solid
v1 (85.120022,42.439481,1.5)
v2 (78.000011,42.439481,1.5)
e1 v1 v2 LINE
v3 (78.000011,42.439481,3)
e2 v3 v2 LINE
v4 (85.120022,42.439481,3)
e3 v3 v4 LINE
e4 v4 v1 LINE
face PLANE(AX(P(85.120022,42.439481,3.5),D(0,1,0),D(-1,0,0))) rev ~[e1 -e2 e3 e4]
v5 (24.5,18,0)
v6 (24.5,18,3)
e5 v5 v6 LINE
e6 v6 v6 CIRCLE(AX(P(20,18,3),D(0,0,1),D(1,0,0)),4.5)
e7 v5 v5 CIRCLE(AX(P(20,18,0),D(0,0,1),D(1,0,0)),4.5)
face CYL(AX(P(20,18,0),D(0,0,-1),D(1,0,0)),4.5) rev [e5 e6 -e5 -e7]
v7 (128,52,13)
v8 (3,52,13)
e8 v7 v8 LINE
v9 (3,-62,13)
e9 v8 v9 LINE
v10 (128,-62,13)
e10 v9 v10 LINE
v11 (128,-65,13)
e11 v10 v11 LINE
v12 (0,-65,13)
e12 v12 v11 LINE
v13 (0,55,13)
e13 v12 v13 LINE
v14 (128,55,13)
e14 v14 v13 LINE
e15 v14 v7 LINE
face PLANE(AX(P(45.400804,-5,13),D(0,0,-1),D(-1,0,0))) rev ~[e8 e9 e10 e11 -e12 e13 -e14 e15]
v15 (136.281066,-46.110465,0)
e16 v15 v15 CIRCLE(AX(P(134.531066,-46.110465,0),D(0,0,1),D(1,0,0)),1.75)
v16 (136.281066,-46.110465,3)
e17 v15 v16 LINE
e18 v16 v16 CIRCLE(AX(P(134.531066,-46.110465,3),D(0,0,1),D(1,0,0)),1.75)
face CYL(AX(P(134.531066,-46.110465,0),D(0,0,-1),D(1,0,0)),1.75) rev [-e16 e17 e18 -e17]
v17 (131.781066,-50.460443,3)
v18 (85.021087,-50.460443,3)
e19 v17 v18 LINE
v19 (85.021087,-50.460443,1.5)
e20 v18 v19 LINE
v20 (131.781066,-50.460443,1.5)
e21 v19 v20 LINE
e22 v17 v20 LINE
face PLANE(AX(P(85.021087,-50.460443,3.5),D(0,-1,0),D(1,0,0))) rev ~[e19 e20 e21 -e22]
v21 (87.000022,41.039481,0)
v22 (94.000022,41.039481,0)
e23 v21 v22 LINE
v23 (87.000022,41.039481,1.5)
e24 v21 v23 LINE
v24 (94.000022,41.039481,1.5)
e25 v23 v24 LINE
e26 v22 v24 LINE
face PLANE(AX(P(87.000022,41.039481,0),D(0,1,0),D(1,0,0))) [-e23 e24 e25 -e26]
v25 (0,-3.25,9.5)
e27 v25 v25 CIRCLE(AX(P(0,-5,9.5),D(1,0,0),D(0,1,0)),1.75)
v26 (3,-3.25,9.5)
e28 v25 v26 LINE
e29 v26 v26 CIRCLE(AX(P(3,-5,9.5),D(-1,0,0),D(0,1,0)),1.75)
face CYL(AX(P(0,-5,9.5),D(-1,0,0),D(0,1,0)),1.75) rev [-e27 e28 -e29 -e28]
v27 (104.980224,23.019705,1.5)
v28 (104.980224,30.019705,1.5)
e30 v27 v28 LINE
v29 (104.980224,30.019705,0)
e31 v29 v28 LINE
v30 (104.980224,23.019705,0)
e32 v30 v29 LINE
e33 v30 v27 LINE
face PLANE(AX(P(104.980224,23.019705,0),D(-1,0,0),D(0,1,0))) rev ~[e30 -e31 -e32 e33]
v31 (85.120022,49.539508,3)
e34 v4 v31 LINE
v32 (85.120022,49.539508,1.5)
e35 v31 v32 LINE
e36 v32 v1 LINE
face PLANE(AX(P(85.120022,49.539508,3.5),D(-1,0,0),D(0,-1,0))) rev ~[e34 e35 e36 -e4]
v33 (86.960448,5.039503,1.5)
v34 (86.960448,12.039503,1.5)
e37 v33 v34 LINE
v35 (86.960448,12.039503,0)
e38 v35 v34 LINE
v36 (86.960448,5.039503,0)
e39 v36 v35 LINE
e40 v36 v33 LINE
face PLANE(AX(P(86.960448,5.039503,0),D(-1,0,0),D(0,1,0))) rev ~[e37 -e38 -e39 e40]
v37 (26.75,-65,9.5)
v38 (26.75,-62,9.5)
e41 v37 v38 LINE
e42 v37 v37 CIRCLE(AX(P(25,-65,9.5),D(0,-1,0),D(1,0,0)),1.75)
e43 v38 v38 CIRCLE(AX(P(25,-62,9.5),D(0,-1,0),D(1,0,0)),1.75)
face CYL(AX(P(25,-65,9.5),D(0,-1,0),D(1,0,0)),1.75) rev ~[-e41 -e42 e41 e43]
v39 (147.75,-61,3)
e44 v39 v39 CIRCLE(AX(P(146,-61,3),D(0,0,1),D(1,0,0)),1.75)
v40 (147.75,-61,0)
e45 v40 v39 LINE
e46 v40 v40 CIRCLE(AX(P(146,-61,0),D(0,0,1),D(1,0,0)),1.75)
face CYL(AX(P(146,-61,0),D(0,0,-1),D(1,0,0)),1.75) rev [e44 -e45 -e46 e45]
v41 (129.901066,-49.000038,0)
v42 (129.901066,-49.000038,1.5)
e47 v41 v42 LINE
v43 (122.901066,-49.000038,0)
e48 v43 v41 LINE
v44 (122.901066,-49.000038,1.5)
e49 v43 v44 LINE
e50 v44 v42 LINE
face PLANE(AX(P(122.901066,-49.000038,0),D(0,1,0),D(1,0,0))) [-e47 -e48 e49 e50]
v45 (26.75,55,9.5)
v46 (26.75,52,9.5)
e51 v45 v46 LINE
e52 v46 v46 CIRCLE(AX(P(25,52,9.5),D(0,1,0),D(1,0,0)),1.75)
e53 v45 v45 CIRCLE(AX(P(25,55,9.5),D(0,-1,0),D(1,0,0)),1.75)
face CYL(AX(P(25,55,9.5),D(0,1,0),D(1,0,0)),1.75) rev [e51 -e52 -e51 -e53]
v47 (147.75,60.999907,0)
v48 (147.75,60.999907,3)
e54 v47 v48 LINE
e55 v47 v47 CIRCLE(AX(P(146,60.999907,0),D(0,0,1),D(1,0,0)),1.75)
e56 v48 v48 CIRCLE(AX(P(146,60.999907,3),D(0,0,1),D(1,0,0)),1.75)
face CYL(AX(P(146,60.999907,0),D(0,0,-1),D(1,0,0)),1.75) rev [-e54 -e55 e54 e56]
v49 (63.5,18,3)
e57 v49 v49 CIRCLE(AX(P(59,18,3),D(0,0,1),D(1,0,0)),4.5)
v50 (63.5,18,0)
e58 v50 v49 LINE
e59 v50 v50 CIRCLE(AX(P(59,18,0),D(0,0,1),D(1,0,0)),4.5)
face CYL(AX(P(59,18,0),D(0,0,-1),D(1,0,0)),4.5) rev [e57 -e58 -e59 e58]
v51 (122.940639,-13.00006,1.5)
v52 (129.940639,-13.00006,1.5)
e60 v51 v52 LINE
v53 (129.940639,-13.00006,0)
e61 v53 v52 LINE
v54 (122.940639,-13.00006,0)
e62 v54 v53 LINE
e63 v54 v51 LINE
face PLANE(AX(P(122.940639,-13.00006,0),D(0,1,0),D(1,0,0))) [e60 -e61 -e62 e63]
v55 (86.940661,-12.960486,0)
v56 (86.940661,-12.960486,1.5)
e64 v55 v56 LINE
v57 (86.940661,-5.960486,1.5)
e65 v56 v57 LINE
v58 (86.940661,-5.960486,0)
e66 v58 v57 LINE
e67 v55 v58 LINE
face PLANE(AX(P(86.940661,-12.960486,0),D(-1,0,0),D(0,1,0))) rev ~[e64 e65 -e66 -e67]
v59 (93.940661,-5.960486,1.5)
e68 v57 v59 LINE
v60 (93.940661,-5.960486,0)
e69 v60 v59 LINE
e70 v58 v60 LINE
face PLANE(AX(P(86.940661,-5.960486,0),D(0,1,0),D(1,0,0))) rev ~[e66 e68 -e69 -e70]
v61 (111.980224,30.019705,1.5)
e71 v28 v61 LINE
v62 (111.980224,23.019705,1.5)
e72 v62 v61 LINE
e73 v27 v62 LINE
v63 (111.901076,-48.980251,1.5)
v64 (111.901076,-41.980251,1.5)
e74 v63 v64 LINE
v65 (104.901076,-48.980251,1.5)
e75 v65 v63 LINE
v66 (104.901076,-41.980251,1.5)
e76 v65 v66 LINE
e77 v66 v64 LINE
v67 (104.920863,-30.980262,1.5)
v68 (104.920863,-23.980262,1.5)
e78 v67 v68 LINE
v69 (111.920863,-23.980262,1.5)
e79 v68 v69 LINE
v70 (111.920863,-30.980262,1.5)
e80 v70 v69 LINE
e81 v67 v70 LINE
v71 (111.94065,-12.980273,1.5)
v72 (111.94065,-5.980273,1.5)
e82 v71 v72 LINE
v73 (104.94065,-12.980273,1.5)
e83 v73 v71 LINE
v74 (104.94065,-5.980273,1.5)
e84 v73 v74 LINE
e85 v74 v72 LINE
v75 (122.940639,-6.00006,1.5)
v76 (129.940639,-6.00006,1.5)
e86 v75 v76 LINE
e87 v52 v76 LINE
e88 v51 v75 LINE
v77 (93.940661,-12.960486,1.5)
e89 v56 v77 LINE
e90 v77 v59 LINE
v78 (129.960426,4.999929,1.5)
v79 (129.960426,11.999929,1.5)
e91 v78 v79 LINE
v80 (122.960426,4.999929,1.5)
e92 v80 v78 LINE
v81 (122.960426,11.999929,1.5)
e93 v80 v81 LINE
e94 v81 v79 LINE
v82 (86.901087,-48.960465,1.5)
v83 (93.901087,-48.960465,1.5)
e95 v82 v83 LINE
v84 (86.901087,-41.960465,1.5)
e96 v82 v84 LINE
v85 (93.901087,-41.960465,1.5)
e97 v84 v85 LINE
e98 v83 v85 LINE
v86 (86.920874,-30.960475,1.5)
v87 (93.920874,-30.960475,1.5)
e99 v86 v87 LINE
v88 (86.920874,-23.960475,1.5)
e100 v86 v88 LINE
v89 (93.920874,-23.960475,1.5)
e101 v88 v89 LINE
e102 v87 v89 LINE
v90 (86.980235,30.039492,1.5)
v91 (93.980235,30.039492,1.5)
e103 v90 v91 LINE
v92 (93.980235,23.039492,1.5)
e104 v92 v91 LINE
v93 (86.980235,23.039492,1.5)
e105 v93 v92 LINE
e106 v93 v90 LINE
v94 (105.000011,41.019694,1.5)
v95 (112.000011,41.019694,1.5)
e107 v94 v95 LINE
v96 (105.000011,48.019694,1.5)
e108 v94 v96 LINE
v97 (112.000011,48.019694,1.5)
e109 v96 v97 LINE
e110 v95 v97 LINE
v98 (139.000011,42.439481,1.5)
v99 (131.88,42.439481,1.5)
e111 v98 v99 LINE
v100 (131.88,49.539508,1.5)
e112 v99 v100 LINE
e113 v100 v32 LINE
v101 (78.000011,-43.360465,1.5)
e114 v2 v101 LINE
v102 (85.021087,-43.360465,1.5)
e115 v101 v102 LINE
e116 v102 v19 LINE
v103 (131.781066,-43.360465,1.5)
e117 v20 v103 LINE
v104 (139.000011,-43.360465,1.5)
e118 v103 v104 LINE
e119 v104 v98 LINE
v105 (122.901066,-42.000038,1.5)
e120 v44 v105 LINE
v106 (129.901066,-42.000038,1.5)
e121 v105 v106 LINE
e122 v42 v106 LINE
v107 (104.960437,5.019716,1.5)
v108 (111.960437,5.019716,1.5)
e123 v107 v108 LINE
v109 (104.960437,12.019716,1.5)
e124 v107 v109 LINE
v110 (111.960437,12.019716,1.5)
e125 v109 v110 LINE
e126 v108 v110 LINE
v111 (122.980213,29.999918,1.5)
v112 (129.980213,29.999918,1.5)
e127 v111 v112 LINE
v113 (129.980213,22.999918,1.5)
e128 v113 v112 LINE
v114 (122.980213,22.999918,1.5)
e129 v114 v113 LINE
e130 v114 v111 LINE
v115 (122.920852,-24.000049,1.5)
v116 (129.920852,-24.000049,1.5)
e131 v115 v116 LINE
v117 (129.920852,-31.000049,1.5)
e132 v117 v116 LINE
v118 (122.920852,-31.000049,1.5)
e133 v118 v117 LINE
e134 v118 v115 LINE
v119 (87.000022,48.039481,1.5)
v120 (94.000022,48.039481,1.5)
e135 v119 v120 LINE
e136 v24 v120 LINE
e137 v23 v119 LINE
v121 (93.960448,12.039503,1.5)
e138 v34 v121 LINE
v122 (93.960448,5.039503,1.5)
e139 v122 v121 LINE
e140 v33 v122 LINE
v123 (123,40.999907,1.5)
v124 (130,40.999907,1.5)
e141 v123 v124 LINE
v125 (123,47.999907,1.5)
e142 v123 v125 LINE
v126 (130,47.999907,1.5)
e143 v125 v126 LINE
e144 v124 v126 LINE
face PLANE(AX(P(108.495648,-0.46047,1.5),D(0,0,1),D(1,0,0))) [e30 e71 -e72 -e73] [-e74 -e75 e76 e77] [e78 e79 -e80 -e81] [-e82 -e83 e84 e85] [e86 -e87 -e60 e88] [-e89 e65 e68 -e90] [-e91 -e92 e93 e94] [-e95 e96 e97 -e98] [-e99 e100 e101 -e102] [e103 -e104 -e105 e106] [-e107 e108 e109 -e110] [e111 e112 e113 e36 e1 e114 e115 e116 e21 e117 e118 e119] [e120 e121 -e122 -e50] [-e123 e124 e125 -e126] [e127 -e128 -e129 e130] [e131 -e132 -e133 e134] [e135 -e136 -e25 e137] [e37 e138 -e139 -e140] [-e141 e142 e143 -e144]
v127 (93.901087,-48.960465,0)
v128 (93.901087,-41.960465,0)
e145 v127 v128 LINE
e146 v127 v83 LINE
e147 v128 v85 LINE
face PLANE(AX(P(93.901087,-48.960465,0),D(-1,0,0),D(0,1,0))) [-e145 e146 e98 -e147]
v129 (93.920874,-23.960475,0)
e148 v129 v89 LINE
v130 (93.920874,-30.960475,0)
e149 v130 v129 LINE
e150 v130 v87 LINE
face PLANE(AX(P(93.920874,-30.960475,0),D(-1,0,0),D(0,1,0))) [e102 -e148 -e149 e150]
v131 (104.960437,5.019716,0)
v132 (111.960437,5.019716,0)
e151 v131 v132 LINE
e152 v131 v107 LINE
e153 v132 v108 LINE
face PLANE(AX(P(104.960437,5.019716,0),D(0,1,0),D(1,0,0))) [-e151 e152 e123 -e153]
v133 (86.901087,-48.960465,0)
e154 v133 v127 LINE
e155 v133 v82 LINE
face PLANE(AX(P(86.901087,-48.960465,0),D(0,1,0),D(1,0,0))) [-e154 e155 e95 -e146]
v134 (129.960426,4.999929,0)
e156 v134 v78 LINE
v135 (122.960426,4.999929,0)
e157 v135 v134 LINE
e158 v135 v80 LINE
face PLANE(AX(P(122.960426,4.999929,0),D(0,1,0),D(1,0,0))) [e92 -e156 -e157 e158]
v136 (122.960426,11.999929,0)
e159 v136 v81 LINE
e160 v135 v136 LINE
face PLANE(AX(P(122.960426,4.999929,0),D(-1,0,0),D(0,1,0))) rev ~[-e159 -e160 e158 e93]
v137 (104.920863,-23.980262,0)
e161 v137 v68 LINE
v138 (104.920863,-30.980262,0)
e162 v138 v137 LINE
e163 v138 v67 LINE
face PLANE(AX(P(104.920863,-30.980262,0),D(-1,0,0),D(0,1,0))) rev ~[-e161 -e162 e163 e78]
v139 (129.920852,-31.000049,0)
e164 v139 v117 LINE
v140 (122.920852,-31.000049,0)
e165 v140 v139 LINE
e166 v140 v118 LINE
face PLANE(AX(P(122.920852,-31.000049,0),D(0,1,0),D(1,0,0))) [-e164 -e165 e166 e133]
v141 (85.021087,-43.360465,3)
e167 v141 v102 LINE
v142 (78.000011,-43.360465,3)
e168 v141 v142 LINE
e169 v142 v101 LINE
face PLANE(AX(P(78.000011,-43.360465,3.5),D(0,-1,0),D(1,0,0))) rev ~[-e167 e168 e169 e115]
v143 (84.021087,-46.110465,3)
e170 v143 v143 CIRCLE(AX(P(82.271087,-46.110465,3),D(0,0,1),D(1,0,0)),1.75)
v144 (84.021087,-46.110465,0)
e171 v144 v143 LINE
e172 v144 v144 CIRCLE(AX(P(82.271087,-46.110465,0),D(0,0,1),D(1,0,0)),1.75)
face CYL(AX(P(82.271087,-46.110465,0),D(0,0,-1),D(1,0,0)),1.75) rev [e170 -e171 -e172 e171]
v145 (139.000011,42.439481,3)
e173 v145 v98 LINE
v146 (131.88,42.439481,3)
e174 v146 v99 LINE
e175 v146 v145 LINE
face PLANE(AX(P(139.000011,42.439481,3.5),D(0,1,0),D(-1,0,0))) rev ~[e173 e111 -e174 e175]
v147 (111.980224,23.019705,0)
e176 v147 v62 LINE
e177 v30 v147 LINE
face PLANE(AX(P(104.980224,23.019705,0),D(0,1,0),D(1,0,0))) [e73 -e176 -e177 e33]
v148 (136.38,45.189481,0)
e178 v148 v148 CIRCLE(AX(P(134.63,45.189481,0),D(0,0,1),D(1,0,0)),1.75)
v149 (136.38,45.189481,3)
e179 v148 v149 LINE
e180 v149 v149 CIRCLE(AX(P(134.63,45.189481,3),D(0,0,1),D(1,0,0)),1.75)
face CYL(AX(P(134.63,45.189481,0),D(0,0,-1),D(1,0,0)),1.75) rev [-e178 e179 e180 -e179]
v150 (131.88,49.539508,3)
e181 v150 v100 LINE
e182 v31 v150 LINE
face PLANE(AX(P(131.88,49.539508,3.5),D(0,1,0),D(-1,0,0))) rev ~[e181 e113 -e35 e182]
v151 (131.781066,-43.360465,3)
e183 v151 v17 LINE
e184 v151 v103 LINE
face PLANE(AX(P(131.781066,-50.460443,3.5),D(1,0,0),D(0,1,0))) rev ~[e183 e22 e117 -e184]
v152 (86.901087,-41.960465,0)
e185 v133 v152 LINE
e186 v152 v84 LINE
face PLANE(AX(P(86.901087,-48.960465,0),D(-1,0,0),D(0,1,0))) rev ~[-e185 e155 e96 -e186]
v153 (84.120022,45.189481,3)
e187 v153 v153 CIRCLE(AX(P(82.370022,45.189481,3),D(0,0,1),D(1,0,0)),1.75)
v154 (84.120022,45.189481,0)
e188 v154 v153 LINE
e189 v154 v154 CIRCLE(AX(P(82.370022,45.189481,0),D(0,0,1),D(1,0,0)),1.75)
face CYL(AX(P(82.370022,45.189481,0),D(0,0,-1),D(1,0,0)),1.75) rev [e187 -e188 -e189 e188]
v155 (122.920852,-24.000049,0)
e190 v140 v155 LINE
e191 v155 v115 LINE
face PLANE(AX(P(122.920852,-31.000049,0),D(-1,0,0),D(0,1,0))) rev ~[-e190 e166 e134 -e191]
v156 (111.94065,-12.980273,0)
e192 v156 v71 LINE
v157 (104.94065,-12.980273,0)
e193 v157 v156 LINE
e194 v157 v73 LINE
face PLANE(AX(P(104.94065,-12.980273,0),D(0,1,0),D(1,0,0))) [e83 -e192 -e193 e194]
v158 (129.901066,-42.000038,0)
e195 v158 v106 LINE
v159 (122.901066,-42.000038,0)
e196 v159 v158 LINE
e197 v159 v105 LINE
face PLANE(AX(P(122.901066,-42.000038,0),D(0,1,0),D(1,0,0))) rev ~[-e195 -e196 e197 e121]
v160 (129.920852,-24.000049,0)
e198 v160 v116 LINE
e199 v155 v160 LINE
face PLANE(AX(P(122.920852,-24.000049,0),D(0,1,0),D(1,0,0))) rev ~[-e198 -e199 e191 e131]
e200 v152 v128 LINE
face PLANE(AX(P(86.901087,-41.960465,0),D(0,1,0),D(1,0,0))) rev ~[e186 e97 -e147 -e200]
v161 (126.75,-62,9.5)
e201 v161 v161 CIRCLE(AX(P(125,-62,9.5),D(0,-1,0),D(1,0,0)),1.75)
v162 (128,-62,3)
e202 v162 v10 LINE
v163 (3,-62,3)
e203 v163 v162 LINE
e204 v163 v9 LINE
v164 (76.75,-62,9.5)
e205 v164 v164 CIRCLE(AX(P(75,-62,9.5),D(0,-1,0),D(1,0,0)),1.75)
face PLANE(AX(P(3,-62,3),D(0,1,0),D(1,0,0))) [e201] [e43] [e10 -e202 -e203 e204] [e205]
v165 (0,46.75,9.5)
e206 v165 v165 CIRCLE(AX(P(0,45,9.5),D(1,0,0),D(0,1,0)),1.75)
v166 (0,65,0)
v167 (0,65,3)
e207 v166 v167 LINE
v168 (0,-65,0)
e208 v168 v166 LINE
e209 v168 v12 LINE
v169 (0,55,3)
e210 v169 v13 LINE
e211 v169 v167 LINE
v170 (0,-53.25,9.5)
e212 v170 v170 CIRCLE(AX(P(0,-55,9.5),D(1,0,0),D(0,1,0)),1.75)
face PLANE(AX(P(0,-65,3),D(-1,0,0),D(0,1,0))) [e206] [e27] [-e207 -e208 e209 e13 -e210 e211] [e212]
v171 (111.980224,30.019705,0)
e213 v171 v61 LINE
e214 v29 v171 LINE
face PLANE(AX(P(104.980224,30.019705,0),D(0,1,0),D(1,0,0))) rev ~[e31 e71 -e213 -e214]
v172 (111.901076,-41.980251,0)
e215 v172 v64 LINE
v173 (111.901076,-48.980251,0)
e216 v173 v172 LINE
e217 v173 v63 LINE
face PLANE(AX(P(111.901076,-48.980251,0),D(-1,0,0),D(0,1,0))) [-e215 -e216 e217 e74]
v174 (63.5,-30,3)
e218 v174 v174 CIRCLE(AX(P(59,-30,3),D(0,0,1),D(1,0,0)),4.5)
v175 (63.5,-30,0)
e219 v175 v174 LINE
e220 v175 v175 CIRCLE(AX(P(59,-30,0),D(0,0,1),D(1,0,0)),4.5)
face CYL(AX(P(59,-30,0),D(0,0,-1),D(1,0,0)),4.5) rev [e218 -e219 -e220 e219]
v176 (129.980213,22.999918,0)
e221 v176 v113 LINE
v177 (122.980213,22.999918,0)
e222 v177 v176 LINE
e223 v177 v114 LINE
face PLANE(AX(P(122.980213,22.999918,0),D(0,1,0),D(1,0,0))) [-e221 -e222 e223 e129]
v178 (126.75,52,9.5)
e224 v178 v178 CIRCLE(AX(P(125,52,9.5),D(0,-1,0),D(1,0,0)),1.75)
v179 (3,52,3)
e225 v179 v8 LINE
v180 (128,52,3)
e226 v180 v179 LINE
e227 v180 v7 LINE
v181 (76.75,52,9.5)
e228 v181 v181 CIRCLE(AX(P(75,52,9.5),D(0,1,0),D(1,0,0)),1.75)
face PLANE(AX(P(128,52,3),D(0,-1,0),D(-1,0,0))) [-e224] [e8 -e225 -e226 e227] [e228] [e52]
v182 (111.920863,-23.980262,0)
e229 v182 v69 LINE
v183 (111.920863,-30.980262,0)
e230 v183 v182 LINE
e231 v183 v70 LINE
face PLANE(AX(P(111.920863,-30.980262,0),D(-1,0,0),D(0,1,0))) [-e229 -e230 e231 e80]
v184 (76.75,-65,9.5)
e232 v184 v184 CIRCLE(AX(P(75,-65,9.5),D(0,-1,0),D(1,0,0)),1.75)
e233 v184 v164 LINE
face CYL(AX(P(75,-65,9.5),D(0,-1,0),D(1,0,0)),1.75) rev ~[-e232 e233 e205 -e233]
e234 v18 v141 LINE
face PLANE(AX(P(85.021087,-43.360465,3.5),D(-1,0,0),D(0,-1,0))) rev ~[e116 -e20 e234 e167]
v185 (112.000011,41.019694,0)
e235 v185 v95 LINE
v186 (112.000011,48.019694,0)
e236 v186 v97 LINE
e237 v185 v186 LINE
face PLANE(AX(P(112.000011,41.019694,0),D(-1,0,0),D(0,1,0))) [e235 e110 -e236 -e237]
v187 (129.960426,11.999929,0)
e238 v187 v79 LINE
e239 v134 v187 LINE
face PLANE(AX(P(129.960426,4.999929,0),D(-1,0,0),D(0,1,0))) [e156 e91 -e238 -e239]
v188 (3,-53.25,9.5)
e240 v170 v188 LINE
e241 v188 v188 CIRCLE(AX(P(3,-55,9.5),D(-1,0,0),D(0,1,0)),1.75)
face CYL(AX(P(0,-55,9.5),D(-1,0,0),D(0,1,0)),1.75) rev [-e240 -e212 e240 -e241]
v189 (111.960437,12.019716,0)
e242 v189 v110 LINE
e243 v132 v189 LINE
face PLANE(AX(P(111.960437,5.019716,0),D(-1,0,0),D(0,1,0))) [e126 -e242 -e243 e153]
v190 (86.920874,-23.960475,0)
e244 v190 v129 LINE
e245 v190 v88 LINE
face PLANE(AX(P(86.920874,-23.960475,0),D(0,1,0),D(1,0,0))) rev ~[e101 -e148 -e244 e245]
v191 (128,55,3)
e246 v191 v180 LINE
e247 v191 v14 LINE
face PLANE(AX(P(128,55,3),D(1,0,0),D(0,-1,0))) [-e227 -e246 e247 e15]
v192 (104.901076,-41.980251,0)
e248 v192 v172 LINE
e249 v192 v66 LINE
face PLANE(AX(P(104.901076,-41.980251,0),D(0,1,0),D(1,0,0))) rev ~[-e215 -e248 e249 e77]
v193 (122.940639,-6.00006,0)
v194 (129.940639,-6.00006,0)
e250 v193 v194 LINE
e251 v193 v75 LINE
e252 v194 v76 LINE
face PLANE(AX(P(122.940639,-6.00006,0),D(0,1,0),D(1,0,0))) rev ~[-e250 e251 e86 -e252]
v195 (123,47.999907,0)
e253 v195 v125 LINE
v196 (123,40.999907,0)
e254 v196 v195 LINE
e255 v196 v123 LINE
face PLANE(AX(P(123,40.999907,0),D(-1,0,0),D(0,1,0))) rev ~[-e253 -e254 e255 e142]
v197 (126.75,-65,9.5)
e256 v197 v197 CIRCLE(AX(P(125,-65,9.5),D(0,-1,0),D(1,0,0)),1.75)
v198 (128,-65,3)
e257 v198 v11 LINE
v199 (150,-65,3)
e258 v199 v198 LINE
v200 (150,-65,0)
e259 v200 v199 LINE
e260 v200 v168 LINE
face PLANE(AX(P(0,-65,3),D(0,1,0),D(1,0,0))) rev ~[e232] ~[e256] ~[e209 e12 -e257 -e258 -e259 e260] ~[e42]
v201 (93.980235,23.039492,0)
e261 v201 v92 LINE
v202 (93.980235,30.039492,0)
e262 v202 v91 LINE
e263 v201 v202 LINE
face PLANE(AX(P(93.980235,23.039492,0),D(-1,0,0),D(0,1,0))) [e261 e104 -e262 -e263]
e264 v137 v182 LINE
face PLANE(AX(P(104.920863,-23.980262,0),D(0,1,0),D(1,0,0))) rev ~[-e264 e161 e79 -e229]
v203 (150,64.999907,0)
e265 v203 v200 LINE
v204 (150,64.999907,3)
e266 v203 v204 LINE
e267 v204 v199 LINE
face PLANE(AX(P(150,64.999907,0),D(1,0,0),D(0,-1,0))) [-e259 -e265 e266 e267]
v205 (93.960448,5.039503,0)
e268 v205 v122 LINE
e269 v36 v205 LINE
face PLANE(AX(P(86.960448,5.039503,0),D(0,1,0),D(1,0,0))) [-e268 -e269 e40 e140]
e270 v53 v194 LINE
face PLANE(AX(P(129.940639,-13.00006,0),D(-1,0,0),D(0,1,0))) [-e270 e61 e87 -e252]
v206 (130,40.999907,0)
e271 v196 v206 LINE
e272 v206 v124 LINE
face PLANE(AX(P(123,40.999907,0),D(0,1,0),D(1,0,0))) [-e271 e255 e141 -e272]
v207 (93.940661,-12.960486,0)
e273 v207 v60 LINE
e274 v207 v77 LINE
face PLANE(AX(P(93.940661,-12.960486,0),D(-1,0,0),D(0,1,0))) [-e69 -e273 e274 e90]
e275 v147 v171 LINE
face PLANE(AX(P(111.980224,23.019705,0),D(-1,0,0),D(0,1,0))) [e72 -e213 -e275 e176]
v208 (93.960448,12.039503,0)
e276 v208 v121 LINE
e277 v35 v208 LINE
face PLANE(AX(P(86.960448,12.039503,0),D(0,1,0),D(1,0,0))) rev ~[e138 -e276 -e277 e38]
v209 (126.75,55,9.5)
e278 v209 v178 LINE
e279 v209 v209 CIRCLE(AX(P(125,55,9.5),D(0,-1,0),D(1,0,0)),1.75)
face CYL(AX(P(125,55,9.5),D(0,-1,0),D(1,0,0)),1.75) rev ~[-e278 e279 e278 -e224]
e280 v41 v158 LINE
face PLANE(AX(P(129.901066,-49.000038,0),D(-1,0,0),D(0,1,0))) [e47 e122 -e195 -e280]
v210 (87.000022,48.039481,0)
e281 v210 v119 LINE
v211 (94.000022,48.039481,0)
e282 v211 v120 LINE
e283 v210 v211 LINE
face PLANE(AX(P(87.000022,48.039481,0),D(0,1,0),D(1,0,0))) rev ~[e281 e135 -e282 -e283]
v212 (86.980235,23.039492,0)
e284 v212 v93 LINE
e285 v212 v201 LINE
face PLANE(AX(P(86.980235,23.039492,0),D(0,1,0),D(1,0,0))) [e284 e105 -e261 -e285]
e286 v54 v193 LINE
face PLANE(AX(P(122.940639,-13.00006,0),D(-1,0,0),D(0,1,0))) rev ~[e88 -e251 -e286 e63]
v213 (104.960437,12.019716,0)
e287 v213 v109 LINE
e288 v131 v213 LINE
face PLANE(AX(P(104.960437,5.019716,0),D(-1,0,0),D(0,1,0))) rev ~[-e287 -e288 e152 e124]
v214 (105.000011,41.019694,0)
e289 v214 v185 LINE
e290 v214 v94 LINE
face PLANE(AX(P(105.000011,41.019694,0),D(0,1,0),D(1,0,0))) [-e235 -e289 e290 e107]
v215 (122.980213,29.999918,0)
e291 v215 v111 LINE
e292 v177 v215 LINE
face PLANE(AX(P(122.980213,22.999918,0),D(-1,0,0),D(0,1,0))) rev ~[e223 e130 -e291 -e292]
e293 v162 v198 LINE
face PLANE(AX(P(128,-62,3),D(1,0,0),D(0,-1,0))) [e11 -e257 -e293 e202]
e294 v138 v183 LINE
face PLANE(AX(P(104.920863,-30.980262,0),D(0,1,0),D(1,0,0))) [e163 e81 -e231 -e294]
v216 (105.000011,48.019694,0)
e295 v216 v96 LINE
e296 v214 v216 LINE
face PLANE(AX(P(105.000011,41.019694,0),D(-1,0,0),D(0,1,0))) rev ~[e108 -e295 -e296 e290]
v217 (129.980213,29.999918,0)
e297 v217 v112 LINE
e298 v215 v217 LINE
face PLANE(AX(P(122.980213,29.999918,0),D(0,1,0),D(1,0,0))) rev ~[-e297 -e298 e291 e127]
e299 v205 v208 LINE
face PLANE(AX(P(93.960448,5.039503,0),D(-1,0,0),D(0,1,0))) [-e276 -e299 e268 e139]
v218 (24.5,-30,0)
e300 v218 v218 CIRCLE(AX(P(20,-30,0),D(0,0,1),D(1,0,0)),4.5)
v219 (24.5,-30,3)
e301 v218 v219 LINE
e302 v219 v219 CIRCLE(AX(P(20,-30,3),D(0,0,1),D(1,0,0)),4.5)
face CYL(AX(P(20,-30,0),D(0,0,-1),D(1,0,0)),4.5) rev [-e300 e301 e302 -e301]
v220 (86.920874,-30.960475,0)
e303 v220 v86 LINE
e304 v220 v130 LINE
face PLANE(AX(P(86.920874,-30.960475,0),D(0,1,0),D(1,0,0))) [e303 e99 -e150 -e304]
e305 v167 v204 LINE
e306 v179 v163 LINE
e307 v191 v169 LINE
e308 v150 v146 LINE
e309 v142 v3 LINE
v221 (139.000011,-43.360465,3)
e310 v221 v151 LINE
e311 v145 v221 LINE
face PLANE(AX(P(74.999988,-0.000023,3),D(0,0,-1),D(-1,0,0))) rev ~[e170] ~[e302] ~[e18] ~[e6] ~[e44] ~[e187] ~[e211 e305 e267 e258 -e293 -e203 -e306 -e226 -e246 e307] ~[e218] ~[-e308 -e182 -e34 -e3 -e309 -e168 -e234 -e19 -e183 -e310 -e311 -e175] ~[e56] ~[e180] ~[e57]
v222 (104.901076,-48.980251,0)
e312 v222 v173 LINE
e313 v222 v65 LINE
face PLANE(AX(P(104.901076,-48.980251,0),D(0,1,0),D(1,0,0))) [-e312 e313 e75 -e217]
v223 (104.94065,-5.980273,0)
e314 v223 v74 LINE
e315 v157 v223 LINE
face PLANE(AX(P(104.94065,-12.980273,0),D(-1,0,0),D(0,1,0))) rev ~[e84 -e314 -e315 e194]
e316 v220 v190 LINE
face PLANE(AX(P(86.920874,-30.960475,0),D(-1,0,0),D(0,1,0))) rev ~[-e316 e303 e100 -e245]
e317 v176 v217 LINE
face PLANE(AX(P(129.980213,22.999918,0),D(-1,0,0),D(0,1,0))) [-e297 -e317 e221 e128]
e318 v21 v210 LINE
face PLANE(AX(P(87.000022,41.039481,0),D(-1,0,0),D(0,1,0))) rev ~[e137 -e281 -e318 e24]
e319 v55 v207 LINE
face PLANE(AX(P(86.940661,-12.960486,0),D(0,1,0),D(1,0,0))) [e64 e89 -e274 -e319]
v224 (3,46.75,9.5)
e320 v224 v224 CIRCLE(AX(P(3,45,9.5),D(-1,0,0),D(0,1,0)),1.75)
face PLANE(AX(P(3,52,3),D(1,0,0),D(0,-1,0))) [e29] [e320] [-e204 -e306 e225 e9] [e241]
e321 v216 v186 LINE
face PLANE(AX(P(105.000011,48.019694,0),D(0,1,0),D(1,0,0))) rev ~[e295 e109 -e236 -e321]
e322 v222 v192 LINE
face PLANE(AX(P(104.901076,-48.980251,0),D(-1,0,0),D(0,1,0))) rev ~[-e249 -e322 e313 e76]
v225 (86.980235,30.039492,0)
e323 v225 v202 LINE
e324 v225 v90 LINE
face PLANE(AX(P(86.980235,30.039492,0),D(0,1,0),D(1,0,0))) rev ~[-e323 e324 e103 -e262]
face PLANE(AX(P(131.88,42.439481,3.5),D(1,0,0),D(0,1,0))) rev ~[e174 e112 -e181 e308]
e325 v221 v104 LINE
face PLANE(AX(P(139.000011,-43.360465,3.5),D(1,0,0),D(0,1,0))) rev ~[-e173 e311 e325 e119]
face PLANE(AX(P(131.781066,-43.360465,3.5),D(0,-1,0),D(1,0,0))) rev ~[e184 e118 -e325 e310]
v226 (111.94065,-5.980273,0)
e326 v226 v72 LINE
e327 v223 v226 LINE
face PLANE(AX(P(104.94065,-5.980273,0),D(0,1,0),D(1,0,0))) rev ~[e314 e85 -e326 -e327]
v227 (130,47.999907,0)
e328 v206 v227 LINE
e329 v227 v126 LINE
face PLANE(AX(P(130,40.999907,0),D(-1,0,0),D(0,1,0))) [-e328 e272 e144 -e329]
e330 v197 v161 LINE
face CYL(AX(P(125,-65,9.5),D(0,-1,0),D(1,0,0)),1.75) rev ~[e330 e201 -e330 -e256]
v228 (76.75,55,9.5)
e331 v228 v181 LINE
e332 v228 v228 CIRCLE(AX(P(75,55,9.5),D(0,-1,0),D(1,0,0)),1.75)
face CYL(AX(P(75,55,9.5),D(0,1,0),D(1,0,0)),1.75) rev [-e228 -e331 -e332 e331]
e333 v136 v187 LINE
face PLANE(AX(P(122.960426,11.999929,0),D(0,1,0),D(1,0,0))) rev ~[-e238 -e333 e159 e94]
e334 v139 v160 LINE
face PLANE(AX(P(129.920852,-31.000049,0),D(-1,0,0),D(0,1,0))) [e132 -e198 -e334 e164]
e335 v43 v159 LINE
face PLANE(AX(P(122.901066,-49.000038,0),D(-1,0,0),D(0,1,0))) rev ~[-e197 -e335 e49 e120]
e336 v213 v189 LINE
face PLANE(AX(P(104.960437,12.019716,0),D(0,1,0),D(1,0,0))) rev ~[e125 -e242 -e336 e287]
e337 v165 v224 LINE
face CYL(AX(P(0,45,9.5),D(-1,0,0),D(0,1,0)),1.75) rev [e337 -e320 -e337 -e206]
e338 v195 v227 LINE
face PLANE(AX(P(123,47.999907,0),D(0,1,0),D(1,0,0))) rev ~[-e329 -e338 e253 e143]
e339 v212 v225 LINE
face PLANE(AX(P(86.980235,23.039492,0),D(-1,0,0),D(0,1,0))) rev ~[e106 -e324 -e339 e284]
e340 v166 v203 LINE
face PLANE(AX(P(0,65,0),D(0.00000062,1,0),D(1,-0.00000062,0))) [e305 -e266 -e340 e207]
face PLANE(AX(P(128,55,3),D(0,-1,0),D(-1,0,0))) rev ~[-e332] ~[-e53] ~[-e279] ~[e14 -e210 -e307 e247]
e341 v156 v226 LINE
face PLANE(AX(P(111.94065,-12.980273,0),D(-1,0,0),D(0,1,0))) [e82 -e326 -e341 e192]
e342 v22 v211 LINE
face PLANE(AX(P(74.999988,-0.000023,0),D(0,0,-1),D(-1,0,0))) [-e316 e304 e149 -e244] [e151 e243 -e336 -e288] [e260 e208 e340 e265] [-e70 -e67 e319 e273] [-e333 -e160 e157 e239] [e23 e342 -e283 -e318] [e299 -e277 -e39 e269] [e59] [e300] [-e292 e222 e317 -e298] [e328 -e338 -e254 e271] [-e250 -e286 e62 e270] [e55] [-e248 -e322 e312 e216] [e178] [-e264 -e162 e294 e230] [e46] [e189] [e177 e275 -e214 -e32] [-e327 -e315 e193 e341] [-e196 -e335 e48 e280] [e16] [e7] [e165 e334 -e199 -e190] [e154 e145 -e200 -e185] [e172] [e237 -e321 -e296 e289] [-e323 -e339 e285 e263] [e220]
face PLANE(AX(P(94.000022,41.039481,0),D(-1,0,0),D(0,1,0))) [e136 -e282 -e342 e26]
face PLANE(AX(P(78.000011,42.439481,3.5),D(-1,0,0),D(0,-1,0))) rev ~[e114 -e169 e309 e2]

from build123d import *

# Parameters (mm, degrees)
SKETCH013_R     = 4.5
SKETCH013_R_2   = 1.75
SKETCH013_W     = 7
SKETCH013_H     = 7
PAD004_DEPTH    = 3
PAD_DEPTH       = 10
SKETCH015_R     = 1.75
POCKET005_DEPTH = 5
SKETCH004_R     = 1.75
POCKET006_DEPTH = 5
SKETCH014_R     = 1.75
POCKET007_DEPTH = 5
POCKET_DEPTH    = 2


with BuildPart() as part:
    # Sketch013 → Pad004 (new body)
    with BuildSketch(Plane.XY):
        Polygon((0, 65), (150, 64.999907), (150, -65), (0, -65), align=None)
        with Locations((20, 18)):
            Circle(SKETCH013_R, mode=Mode.SUBTRACT)
        with Locations((59, 18)):
            Circle(SKETCH013_R, mode=Mode.SUBTRACT)
        with Locations((20, -30)):
            Circle(SKETCH013_R, mode=Mode.SUBTRACT)
        with Locations((59, -30)):
            Circle(SKETCH013_R, mode=Mode.SUBTRACT)
        with Locations((146, 60.999907)):
            Circle(SKETCH013_R_2, mode=Mode.SUBTRACT)
        with Locations((146, -61)):
            Circle(SKETCH013_R_2, mode=Mode.SUBTRACT)
        with Locations((82.370022, 45.189481)):
            Circle(SKETCH013_R_2, mode=Mode.SUBTRACT)
        with Locations((134.63, 45.189481)):
            Circle(SKETCH013_R_2, mode=Mode.SUBTRACT)
        with Locations((82.271087, -46.110465)):
            Circle(SKETCH013_R_2, mode=Mode.SUBTRACT)
        with Locations((134.531066, -46.110465)):
            Circle(SKETCH013_R_2, mode=Mode.SUBTRACT)
        with Locations((90.500022, 44.539481)):
            Rectangle(SKETCH013_W, SKETCH013_H, mode=Mode.SUBTRACT)
        with Locations((108.500011, 44.519694)):
            Rectangle(SKETCH013_W, SKETCH013_H, mode=Mode.SUBTRACT)
        with Locations((126.5, 44.499907)):
            Rectangle(SKETCH013_W, SKETCH013_H, mode=Mode.SUBTRACT)
        with Locations((90.480235, 26.539492)):
            Rectangle(SKETCH013_W, SKETCH013_H, mode=Mode.SUBTRACT)
        with Locations((108.480224, 26.519705)):
            Rectangle(SKETCH013_W, SKETCH013_H, mode=Mode.SUBTRACT)
        with Locations((126.480213, 26.499918)):
            Rectangle(SKETCH013_W, SKETCH013_H, mode=Mode.SUBTRACT)
        with Locations((90.460448, 8.539503)):
            Rectangle(SKETCH013_W, SKETCH013_H, mode=Mode.SUBTRACT)
        with Locations((108.460437, 8.519716)):
            Rectangle(SKETCH013_W, SKETCH013_H, mode=Mode.SUBTRACT)
        with Locations((126.460426, 8.499929)):
            Rectangle(SKETCH013_W, SKETCH013_H, mode=Mode.SUBTRACT)
        with Locations((90.440661, -9.460486)):
            Rectangle(SKETCH013_W, SKETCH013_H, mode=Mode.SUBTRACT)
        with Locations((108.44065, -9.480273)):
            Rectangle(SKETCH013_W, SKETCH013_H, mode=Mode.SUBTRACT)
        with Locations((126.440639, -9.50006)):
            Rectangle(SKETCH013_W, SKETCH013_H, mode=Mode.SUBTRACT)
        with Locations((90.420874, -27.460475)):
            Rectangle(SKETCH013_W, SKETCH013_H, mode=Mode.SUBTRACT)
        with Locations((108.420863, -27.480262)):
            Rectangle(SKETCH013_W, SKETCH013_H, mode=Mode.SUBTRACT)
        with Locations((126.420852, -27.500049)):
            Rectangle(SKETCH013_W, SKETCH013_H, mode=Mode.SUBTRACT)
        with Locations((90.401087, -45.460465)):
            Rectangle(SKETCH013_W, SKETCH013_H, mode=Mode.SUBTRACT)
        with Locations((108.401076, -45.480251)):
            Rectangle(SKETCH013_W, SKETCH013_H, mode=Mode.SUBTRACT)
        with Locations((126.401066, -45.500038)):
            Rectangle(SKETCH013_W, SKETCH013_H, mode=Mode.SUBTRACT)
    extrude(amount=PAD004_DEPTH)

    # Sketch001 (on DatumPlane) → Pad (join)
    with BuildSketch(Plane.XY.offset(3)):
        Polygon((0, 55), (3, 55), (128, 55), (128, 52), (3, 52), (3, -62), (128, -62), (128, -65), (3, -65), (0, -65), align=None)
    extrude(amount=PAD_DEPTH)

    # Sketch015 → Pocket005 (cut)
    with BuildSketch(Plane.XZ.offset(65)):
        with Locations((25, 9.5)):
            Circle(SKETCH015_R)
        with Locations((75, 9.5)):
            Circle(SKETCH015_R)
        with Locations((125, 9.5)):
            Circle(SKETCH015_R)
    extrude(amount=-POCKET005_DEPTH, mode=Mode.SUBTRACT)

    # Sketch004 (on DatumPlane) → Pocket006 (cut, symmetric)
    with BuildSketch(Plane.XZ.offset(-55)):
        with Locations((25, 9.5)):
            Circle(SKETCH004_R)
        with Locations((75, 9.5)):
            Circle(SKETCH004_R)
        with Locations((125, 9.5)):
            Circle(SKETCH004_R)
    extrude(amount=POCKET006_DEPTH, both=True, mode=Mode.SUBTRACT)

    # Sketch014 → Pocket007 (cut)
    with BuildSketch(Plane.YZ):
        with Locations((45, 9.5)):
            Circle(SKETCH014_R)
        with Locations((-5, 9.5)):
            Circle(SKETCH014_R)
        with Locations((-55, 9.5)):
            Circle(SKETCH014_R)
    extrude(amount=POCKET007_DEPTH, mode=Mode.SUBTRACT)

    # Sketch → Pocket (cut)
    with BuildSketch(Plane.XY.offset(3.5)):
        Polygon((85.120022, 49.539508), (85.120022, 42.439481), (78.000011, 42.439481), (78.000011, -43.360465), (85.021087, -43.360465), (85.021087, -50.460443), (131.781066, -50.460443), (131.781066, -43.360465), (139.000011, -43.360465), (139.000011, 42.439481), (131.88, 42.439481), (131.88, 49.539508), align=None)
    extrude(amount=-POCKET_DEPTH, mode=Mode.SUBTRACT)


solid = part.part
